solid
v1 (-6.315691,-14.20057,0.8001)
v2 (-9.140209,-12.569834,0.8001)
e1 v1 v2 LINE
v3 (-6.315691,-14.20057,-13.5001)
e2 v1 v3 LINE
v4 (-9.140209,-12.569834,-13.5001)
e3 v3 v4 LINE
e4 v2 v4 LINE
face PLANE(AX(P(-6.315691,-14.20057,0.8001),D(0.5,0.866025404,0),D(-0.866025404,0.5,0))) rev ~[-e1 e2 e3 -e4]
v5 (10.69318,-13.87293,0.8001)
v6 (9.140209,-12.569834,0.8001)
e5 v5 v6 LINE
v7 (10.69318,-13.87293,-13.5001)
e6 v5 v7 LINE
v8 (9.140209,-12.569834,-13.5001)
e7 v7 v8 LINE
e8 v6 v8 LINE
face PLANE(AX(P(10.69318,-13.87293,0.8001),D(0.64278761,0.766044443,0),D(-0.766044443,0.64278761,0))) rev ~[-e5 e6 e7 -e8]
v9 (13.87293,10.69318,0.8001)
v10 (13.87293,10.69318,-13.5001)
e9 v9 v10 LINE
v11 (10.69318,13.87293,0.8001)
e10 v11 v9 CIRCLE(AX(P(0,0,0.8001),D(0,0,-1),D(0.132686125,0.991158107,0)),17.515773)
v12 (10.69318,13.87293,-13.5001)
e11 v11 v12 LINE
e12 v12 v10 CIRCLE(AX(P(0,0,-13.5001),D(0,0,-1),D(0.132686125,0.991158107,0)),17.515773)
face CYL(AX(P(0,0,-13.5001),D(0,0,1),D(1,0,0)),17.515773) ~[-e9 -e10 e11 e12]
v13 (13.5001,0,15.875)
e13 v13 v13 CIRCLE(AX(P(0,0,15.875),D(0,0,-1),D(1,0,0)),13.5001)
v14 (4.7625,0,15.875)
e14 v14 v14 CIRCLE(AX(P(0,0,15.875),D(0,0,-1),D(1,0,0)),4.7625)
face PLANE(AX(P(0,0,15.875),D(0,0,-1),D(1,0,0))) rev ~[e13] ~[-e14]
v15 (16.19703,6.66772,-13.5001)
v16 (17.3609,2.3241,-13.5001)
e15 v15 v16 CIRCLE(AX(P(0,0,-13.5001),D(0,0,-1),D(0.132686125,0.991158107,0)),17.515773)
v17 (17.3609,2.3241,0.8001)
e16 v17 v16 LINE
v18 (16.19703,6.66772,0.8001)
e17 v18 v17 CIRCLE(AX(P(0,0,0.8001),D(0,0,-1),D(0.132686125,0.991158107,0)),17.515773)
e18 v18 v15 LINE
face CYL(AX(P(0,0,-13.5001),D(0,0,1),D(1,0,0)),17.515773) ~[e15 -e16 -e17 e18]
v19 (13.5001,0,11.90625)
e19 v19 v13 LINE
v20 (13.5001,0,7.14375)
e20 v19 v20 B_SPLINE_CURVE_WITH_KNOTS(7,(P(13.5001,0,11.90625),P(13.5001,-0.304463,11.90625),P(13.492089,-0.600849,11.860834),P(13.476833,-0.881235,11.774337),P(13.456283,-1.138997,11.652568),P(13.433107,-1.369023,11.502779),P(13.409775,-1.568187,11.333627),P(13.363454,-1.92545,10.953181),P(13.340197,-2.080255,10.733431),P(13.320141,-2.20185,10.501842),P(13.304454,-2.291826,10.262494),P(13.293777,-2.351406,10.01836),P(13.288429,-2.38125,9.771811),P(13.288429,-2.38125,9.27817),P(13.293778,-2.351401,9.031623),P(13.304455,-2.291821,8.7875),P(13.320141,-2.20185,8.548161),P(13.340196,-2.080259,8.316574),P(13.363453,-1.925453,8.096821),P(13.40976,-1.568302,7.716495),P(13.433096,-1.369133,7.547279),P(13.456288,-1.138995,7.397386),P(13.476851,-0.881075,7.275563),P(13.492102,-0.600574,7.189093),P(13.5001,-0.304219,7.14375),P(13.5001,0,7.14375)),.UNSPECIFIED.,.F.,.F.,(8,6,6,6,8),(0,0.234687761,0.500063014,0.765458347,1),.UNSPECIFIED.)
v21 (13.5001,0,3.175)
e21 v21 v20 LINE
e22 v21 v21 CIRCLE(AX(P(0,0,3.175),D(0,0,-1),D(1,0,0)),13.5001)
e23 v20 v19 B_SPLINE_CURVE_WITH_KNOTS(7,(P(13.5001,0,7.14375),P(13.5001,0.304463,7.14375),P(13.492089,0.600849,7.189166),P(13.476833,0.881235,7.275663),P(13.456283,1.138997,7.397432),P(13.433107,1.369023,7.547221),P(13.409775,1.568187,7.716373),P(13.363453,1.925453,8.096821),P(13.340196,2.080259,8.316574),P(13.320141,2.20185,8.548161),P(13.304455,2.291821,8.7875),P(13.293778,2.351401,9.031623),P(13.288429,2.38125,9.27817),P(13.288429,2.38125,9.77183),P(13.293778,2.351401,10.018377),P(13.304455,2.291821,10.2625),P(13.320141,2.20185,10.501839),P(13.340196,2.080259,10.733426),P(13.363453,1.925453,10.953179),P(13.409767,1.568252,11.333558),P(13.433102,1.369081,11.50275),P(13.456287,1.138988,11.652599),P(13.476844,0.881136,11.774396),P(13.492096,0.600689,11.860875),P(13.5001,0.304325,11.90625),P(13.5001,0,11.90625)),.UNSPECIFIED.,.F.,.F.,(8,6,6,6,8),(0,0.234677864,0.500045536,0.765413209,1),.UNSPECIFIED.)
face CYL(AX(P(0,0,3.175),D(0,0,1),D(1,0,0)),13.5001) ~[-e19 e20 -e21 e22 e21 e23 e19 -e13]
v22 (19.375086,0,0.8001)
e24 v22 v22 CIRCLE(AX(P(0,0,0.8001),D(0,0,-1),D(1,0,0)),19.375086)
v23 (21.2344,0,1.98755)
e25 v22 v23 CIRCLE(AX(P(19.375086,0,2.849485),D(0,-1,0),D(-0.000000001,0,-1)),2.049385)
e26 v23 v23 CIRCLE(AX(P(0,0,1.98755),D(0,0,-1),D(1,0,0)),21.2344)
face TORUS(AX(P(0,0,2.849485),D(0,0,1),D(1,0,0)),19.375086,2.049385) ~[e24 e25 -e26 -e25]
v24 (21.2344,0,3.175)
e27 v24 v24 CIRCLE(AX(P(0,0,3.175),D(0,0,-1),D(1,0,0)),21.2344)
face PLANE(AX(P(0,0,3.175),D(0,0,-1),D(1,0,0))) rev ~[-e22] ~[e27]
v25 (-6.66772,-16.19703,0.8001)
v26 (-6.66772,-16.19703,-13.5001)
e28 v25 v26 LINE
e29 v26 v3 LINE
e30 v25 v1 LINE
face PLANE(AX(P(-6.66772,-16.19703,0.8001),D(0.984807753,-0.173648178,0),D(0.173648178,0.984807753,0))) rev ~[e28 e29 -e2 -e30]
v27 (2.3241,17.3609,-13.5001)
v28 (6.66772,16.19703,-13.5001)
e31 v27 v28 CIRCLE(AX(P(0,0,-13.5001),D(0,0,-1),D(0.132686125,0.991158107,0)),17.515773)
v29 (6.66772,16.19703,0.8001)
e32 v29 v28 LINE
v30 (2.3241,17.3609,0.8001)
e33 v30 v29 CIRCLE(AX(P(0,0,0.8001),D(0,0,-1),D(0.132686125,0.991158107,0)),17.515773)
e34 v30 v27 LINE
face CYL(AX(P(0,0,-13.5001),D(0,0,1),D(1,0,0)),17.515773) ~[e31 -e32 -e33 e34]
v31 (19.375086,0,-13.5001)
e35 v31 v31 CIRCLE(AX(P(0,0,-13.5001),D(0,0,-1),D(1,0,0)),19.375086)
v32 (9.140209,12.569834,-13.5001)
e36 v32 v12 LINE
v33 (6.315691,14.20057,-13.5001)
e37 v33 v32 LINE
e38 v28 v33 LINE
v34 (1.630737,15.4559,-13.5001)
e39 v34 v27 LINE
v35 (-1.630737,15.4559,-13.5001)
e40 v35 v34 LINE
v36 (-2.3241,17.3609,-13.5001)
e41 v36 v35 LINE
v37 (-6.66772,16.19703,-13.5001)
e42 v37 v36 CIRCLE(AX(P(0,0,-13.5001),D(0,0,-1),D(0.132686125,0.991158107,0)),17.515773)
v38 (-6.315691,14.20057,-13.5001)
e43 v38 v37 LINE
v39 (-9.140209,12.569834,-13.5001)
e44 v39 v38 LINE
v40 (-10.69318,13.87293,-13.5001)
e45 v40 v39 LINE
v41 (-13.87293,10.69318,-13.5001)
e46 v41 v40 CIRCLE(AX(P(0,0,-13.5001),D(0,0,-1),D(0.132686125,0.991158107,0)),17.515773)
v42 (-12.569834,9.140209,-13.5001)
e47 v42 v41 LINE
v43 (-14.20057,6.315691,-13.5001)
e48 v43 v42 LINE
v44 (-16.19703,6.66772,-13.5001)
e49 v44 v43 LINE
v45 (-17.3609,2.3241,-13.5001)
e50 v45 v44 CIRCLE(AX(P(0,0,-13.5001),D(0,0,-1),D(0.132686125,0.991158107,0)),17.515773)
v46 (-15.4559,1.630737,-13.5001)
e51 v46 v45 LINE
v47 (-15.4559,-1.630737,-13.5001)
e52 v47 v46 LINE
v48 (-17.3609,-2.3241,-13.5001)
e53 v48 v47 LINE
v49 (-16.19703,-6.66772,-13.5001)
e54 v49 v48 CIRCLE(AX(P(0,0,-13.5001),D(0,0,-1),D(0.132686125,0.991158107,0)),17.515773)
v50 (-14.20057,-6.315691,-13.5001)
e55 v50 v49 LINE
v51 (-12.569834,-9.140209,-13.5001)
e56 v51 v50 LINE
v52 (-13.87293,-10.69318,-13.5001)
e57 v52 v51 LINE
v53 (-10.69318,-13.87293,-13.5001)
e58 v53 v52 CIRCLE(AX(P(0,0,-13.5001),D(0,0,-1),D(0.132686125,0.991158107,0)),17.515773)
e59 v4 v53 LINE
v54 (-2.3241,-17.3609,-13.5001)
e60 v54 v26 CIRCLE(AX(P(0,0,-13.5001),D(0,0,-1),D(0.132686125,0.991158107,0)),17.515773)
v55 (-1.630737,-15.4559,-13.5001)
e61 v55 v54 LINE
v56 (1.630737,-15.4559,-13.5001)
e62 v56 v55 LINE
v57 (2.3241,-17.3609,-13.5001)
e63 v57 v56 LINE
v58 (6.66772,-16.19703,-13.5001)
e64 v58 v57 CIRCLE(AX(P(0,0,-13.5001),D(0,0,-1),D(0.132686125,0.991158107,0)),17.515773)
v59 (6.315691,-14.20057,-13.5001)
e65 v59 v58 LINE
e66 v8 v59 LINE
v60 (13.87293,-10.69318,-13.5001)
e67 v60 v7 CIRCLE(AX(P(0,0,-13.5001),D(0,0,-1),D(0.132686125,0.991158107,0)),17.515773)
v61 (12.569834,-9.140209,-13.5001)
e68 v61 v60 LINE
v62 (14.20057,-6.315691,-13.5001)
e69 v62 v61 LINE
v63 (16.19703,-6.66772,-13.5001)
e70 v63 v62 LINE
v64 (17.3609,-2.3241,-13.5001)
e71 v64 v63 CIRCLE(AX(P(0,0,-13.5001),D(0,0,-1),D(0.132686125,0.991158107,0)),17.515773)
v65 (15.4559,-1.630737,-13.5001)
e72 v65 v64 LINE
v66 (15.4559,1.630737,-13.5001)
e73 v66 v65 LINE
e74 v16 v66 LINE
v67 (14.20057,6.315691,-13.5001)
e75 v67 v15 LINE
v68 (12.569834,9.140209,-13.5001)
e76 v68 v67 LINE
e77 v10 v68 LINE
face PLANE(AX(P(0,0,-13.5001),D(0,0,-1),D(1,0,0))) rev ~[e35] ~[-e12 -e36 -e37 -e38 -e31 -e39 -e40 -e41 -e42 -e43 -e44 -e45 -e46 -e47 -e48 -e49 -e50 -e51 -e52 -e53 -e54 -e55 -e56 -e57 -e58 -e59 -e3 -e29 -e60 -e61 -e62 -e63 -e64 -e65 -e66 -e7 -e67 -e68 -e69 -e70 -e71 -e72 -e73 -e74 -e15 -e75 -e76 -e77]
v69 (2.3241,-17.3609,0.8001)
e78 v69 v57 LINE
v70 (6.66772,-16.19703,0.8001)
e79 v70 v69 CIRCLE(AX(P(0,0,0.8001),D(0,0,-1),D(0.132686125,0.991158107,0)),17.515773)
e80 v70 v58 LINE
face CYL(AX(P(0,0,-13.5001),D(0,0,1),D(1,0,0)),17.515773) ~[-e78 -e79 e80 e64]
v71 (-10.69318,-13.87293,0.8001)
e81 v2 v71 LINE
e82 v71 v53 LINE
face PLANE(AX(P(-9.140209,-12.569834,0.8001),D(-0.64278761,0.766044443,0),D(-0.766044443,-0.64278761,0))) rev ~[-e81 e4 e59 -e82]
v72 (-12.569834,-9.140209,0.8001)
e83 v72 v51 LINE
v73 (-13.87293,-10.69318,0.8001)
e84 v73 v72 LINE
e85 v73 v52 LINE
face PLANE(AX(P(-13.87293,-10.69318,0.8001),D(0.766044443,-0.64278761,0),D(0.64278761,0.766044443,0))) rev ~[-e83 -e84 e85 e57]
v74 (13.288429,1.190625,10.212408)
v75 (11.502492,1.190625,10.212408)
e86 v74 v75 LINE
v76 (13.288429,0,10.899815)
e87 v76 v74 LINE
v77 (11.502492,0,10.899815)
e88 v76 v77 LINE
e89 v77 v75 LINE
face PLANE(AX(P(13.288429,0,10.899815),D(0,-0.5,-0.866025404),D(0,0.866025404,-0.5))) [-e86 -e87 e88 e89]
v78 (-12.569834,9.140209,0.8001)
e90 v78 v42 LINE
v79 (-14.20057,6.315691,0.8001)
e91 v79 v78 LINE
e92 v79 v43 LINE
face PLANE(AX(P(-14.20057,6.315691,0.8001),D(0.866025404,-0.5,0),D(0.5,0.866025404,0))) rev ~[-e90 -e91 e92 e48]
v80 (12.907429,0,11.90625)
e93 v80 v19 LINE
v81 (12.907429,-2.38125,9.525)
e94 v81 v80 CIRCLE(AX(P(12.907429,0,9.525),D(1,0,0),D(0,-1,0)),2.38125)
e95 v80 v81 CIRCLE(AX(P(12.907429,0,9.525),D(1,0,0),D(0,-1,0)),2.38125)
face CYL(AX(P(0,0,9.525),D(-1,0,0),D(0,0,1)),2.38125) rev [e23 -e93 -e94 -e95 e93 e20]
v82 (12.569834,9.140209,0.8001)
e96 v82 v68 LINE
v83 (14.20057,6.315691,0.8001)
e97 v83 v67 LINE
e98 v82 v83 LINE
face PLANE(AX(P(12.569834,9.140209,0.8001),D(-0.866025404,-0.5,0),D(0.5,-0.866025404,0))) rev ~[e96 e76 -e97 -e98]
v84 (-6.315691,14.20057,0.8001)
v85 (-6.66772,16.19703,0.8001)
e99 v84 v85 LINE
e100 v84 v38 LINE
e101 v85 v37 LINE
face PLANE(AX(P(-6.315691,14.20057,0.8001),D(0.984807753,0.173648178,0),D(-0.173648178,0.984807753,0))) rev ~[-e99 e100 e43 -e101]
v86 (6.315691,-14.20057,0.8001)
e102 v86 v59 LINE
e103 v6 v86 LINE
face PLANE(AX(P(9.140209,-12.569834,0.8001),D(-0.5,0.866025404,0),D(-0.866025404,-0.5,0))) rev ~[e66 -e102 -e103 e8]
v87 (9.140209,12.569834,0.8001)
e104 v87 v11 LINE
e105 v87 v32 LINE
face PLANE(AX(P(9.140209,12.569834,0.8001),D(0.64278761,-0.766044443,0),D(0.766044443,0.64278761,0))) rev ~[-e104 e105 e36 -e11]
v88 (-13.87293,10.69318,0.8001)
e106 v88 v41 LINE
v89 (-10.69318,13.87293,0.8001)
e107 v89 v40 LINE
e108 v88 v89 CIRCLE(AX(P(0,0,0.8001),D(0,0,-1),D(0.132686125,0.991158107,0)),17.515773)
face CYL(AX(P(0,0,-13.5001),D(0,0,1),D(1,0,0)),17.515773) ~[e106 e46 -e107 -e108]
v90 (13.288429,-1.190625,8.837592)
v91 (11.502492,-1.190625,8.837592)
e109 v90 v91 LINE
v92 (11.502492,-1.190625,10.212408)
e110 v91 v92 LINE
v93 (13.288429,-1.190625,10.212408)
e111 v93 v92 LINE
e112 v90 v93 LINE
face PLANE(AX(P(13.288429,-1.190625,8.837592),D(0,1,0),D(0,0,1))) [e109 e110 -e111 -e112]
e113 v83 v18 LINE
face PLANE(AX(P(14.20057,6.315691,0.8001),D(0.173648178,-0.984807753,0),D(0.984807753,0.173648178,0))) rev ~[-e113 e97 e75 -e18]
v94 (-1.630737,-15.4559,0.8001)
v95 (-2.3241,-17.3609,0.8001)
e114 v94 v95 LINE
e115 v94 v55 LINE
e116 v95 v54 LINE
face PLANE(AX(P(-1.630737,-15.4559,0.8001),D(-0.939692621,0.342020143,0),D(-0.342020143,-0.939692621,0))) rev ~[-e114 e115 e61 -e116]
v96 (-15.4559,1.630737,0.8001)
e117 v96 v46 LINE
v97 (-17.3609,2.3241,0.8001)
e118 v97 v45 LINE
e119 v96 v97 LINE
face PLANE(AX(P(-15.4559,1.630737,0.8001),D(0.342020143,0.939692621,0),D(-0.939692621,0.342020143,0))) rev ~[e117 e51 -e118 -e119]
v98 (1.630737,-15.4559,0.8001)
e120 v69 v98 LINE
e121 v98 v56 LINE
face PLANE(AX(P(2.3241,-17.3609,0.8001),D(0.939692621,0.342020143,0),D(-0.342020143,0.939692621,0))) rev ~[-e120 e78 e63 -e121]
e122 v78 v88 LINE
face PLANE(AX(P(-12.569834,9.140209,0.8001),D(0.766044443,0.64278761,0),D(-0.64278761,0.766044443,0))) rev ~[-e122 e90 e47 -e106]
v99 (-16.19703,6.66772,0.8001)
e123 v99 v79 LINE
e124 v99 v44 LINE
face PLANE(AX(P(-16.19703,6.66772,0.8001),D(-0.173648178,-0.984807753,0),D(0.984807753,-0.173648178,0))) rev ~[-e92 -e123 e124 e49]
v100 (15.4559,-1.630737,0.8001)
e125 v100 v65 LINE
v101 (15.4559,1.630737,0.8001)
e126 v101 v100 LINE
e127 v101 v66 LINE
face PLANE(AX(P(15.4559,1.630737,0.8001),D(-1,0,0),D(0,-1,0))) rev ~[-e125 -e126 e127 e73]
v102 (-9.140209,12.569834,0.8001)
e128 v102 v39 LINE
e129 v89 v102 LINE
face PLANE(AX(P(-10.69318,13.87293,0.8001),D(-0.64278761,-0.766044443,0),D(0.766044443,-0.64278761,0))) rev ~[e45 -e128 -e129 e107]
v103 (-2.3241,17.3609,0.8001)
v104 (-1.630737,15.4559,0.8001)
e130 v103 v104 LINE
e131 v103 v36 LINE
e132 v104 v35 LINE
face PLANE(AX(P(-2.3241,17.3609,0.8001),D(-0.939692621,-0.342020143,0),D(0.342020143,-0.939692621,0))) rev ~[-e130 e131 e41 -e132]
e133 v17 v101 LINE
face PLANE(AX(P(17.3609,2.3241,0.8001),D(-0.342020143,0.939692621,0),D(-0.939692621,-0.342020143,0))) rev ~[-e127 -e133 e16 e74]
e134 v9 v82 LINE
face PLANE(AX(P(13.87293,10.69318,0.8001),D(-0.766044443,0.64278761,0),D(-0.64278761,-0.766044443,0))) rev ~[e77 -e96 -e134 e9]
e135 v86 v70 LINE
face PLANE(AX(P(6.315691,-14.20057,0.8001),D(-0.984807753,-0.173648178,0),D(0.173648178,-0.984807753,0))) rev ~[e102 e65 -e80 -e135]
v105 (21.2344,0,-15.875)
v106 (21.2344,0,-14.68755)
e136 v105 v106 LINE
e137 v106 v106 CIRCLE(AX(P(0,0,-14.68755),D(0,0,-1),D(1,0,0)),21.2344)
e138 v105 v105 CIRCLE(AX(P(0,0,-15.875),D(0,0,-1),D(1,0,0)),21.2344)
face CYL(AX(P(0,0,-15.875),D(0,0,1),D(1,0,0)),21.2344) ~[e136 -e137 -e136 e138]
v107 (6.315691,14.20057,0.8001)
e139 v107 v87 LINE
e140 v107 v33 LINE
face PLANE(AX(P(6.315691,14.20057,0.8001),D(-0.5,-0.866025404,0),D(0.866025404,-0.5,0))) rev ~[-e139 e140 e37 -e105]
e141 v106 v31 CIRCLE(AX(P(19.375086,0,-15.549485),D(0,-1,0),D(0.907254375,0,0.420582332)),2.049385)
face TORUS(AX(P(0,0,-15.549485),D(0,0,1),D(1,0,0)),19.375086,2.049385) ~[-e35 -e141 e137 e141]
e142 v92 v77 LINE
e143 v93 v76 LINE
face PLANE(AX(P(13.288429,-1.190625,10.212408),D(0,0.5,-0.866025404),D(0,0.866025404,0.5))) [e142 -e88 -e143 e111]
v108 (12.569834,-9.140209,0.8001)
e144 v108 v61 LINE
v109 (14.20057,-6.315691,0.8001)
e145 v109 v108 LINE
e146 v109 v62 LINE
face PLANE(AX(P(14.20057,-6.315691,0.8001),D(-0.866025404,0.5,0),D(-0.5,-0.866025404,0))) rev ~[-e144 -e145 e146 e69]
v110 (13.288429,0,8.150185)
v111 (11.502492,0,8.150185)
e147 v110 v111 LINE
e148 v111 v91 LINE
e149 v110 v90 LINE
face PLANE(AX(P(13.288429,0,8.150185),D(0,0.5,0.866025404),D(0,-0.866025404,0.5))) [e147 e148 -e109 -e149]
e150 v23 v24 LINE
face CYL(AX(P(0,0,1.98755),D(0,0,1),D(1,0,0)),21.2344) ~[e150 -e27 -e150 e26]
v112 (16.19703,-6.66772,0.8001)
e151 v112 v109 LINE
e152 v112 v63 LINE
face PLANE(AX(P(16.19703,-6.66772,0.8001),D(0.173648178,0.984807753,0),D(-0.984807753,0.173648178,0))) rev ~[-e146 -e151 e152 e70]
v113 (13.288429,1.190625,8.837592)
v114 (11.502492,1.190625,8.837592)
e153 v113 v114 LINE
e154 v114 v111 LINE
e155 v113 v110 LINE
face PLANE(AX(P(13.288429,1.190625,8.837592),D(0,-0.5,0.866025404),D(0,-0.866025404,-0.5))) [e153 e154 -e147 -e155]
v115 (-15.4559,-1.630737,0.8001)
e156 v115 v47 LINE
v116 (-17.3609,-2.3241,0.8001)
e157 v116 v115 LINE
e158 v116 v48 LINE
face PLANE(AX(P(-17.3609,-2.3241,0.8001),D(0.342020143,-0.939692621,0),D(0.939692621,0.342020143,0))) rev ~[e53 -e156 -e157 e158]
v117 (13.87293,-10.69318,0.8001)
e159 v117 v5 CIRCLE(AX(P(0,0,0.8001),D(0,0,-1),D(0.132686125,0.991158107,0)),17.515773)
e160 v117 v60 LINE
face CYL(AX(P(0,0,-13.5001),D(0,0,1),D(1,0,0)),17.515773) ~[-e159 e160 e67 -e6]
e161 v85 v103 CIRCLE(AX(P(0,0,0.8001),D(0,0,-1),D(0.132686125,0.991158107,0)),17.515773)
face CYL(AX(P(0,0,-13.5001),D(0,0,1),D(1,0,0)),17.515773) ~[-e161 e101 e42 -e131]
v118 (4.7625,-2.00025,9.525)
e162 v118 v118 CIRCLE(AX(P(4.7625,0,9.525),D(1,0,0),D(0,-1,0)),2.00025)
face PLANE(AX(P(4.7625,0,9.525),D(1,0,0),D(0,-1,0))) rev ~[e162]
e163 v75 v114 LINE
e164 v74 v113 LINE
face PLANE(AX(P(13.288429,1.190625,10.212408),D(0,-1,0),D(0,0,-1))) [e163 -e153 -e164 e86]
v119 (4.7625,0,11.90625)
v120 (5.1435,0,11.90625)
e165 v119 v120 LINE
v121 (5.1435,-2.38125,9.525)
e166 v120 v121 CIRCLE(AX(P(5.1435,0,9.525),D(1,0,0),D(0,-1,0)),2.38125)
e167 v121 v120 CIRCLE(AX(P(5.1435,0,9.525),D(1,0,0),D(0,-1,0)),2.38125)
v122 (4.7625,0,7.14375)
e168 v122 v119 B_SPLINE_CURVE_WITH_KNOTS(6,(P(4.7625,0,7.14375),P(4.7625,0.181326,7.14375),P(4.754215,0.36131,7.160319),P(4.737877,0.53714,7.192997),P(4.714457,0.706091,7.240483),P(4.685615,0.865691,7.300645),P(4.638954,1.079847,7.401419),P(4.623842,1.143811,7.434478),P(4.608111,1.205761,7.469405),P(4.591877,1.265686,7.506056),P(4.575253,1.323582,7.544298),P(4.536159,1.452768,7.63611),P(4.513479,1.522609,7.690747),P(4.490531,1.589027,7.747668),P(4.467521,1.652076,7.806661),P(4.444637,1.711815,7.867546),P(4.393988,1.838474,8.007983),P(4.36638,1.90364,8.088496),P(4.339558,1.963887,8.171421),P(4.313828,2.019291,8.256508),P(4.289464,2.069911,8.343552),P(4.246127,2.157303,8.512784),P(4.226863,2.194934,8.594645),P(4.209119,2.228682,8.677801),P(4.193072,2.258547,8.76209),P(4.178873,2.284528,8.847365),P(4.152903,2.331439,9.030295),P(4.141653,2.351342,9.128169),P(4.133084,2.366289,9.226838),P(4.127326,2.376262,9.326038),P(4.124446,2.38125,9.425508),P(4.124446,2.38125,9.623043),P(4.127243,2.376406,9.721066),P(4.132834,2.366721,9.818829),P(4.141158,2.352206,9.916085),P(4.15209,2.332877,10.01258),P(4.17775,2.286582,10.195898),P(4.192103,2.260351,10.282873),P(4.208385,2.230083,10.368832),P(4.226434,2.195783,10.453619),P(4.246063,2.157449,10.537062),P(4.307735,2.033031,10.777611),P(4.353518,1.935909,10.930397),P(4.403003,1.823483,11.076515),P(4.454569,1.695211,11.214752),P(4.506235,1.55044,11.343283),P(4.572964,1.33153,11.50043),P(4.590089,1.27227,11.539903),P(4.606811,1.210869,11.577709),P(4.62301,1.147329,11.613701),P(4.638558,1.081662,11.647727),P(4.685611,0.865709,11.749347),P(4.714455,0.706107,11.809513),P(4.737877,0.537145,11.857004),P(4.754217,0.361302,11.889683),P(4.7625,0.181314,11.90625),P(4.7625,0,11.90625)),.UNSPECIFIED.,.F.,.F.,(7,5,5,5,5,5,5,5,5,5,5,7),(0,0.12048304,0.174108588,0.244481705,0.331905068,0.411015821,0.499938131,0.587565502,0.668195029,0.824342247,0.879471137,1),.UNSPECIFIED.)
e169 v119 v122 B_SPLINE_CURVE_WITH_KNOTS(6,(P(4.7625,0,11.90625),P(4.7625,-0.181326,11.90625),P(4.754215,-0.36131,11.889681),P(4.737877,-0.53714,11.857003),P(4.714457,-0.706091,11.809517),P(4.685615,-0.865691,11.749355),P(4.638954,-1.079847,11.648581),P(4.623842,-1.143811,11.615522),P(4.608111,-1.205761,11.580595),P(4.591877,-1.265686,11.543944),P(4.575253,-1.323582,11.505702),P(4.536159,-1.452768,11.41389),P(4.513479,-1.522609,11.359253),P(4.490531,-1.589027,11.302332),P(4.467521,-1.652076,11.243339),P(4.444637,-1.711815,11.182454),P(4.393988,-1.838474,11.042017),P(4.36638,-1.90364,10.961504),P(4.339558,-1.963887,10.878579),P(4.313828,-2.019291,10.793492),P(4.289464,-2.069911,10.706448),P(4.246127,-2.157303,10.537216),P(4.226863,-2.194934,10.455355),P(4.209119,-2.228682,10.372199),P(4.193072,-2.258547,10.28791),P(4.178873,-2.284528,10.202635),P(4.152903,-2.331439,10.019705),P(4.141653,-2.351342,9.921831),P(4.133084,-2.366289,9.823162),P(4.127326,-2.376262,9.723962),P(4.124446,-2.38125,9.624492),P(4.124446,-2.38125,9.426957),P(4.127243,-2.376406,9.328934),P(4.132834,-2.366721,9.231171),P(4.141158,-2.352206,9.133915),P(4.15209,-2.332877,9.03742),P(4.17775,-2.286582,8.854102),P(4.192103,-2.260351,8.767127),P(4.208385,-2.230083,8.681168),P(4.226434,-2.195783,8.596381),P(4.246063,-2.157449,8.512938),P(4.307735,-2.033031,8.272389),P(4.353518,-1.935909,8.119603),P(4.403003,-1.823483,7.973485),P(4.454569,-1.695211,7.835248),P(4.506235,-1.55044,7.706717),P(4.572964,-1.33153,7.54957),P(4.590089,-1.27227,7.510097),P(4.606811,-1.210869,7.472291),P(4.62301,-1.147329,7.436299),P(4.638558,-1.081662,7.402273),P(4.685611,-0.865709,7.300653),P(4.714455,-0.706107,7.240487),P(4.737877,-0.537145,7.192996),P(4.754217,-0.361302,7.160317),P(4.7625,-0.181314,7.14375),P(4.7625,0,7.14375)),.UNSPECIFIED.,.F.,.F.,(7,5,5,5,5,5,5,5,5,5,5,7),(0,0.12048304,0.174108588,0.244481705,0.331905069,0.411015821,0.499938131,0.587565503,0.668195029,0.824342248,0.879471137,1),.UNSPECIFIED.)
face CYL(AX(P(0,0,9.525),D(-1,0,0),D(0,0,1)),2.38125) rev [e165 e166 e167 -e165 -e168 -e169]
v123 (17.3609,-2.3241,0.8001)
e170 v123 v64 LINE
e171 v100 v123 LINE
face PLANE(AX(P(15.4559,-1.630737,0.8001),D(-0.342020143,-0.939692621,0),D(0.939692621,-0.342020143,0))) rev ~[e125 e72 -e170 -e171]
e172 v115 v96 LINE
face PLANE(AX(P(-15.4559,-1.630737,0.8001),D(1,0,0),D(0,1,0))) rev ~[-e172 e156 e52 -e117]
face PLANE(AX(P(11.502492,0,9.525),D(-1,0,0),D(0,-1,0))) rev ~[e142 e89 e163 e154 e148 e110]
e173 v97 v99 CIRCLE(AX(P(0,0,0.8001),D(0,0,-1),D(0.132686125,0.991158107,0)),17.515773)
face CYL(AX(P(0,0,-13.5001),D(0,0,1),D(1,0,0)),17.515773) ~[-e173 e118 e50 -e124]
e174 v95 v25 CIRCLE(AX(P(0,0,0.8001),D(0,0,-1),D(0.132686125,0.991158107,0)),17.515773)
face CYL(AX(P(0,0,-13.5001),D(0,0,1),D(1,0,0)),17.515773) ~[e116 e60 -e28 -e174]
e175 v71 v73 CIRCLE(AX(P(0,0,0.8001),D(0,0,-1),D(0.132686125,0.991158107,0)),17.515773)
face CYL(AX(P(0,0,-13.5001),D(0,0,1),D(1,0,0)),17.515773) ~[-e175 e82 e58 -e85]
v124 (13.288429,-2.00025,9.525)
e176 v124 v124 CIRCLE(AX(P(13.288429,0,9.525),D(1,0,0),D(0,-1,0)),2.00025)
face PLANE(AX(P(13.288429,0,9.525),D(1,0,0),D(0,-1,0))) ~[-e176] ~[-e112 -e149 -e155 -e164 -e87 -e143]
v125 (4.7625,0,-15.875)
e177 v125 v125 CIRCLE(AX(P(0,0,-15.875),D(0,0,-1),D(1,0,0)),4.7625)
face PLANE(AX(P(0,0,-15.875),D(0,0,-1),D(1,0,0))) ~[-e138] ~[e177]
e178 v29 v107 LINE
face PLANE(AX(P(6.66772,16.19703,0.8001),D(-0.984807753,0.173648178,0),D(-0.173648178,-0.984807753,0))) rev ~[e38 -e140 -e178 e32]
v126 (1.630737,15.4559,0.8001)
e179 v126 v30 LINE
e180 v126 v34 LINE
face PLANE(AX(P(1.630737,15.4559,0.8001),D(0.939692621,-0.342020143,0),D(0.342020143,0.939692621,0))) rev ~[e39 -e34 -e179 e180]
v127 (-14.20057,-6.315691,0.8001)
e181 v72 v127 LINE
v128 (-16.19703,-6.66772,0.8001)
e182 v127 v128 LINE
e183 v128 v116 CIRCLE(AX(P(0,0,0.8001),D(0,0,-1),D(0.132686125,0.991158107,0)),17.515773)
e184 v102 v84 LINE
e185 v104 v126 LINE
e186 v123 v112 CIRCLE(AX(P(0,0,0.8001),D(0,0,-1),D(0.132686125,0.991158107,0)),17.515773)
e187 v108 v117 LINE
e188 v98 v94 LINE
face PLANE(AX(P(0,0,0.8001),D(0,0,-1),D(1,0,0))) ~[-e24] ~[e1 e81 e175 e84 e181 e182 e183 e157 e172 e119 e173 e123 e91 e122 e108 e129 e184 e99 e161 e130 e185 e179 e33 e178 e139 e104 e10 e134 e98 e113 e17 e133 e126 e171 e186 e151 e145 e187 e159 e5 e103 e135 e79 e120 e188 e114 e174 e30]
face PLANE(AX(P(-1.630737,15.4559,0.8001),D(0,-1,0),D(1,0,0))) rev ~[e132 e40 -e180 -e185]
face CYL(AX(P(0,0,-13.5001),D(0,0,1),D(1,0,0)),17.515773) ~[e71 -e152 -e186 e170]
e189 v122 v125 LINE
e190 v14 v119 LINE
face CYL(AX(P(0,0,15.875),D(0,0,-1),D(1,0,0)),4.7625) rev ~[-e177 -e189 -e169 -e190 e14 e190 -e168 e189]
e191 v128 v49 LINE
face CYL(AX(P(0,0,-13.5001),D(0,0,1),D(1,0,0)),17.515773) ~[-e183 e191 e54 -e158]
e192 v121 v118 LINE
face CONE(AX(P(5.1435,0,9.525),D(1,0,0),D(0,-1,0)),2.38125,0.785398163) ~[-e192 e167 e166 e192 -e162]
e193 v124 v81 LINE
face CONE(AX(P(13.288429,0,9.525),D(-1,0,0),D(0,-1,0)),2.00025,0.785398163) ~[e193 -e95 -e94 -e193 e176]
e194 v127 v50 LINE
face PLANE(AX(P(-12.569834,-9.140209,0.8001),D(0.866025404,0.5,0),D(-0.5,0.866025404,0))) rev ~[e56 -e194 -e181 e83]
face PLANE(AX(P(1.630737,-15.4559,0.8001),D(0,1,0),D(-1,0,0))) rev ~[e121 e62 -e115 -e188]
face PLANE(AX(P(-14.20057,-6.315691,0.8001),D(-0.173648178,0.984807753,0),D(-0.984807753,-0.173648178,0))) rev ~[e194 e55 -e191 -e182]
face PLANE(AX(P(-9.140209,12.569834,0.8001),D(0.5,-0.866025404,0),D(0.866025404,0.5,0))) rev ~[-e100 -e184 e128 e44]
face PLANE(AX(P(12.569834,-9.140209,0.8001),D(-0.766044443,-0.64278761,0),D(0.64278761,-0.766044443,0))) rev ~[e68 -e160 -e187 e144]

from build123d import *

# Parameters (mm, degrees)
CUT_EXTRUDE1_START = 0.8001
CUT_EXTRUDE1_DEPTH = 14.3002
CIRPATTERN1_COUNT  = 12
SKETCH4_R          = 2.38125
CUT_EXTRUDE2_DEPTH = 34.967854094
CUT_EXTRUDE3_DEPTH = 1.7859375


with BuildPart() as part:
    # Sketch2 → Revolve1 (revolve)
    with BuildSketch(Plane(origin=(0, 0, 0), x_dir=(0, 0, -1), z_dir=(1, 0, 0)), mode=Mode.PRIVATE) as revolve1_sk:
        with BuildLine():
            Line((-15.875, 4.7625), (15.875, 4.7625))
            Line((15.875, 4.7625), (15.875, 21.2344))
            Line((15.875, 21.2344), (14.68755, 21.2344))
            ThreePointArc((14.68755, 21.2344), (13.822288491, 20.478159839), (13.5001, 19.375086298))
            Line((13.5001, 19.375086298), (13.5001, 17.515772596))
            Line((13.5001, 17.515772596), (-0.8001, 17.515772596))
            Line((-0.8001, 17.515772596), (-0.8001, 19.375086298))
            ThreePointArc((-0.8001, 19.375086298), (-1.122288491, 20.478159839), (-1.98755, 21.2344))
            Line((-1.98755, 21.2344), (-3.175, 21.2344))
            Line((-3.175, 21.2344), (-3.175, 13.5001))
            Line((-3.175, 13.5001), (-15.875, 13.5001))
            Line((-15.875, 13.5001), (-15.875, 4.7625))
        make_face()
    revolve(revolve1_sk.sketch.rotate(Axis((0, 0, 15.875), (0, 0, -1)), 90), axis=Axis((0, 0, 15.875), (0, 0, -1)))

    # Sketch3 → Cut-Extrude1 (cut)
    with BuildSketch(Plane.XY.offset(CUT_EXTRUDE1_START)):
        with BuildLine():
            Line((-1.630736704, 15.4559), (1.630736704, 15.4559))
            Line((1.630736704, 15.4559), (2.3241, 17.3609))
            ThreePointArc((2.3241, 17.3609), (0, 17.515772596), (-2.3241, 17.3609))
            Line((-2.3241, 17.3609), (-1.630736704, 15.4559))
        make_face()
    cut_extrude1 = extrude(amount=-CUT_EXTRUDE1_DEPTH, mode=Mode.SUBTRACT)

    # CirPattern1: Cut-Extrude1 ×12 about axis
    cirpattern1_axis = Axis((0, 0, 0), (0, 0, 1))
    for i in range(1, CIRPATTERN1_COUNT):
        add(cut_extrude1.rotate(cirpattern1_axis, i * 360 / CIRPATTERN1_COUNT), mode=Mode.SUBTRACT)

    # Sketch4 → Cut-Extrude2 (cut, through all)
    with BuildSketch(Plane(origin=(0, 0, 0), x_dir=(0, -1, 0), z_dir=(1, 0, 0))):
        with Locations(Location((0, -9.525, 0), (0, 0, 270))):
            Circle(SKETCH4_R)
    extrude(amount=CUT_EXTRUDE2_DEPTH, mode=Mode.SUBTRACT)

    # Sketch5 → Revolve2 (revolve)
    with BuildSketch(Plane.XY.offset(9.525)):
        Polygon((4.7625, -2.00025), (4.7625, 0), (13.288429119, 0), (13.288429119, -2.00025), (12.907429119, -2.38125), (5.1435, -2.38125), align=None)
    revolve(axis=Axis((4.7625, 0, 9.525), (1, 0, 0)))

    # Sketch6 → Cut-Extrude3 (cut)
    with BuildSketch(Plane(origin=(13.288429119, 5.384140679, 0), x_dir=(0, -1, 0), z_dir=(-1, 0, 0))):
        Polygon((5.384140679, 10.899815329), (4.193515679, 10.212407664), (4.193515679, 8.837592336), (5.384140679, 8.150184671), (6.574765679, 8.837592336), (6.574765679, 10.212407664), align=None)
    extrude(amount=CUT_EXTRUDE3_DEPTH, mode=Mode.SUBTRACT)


solid = part.part
